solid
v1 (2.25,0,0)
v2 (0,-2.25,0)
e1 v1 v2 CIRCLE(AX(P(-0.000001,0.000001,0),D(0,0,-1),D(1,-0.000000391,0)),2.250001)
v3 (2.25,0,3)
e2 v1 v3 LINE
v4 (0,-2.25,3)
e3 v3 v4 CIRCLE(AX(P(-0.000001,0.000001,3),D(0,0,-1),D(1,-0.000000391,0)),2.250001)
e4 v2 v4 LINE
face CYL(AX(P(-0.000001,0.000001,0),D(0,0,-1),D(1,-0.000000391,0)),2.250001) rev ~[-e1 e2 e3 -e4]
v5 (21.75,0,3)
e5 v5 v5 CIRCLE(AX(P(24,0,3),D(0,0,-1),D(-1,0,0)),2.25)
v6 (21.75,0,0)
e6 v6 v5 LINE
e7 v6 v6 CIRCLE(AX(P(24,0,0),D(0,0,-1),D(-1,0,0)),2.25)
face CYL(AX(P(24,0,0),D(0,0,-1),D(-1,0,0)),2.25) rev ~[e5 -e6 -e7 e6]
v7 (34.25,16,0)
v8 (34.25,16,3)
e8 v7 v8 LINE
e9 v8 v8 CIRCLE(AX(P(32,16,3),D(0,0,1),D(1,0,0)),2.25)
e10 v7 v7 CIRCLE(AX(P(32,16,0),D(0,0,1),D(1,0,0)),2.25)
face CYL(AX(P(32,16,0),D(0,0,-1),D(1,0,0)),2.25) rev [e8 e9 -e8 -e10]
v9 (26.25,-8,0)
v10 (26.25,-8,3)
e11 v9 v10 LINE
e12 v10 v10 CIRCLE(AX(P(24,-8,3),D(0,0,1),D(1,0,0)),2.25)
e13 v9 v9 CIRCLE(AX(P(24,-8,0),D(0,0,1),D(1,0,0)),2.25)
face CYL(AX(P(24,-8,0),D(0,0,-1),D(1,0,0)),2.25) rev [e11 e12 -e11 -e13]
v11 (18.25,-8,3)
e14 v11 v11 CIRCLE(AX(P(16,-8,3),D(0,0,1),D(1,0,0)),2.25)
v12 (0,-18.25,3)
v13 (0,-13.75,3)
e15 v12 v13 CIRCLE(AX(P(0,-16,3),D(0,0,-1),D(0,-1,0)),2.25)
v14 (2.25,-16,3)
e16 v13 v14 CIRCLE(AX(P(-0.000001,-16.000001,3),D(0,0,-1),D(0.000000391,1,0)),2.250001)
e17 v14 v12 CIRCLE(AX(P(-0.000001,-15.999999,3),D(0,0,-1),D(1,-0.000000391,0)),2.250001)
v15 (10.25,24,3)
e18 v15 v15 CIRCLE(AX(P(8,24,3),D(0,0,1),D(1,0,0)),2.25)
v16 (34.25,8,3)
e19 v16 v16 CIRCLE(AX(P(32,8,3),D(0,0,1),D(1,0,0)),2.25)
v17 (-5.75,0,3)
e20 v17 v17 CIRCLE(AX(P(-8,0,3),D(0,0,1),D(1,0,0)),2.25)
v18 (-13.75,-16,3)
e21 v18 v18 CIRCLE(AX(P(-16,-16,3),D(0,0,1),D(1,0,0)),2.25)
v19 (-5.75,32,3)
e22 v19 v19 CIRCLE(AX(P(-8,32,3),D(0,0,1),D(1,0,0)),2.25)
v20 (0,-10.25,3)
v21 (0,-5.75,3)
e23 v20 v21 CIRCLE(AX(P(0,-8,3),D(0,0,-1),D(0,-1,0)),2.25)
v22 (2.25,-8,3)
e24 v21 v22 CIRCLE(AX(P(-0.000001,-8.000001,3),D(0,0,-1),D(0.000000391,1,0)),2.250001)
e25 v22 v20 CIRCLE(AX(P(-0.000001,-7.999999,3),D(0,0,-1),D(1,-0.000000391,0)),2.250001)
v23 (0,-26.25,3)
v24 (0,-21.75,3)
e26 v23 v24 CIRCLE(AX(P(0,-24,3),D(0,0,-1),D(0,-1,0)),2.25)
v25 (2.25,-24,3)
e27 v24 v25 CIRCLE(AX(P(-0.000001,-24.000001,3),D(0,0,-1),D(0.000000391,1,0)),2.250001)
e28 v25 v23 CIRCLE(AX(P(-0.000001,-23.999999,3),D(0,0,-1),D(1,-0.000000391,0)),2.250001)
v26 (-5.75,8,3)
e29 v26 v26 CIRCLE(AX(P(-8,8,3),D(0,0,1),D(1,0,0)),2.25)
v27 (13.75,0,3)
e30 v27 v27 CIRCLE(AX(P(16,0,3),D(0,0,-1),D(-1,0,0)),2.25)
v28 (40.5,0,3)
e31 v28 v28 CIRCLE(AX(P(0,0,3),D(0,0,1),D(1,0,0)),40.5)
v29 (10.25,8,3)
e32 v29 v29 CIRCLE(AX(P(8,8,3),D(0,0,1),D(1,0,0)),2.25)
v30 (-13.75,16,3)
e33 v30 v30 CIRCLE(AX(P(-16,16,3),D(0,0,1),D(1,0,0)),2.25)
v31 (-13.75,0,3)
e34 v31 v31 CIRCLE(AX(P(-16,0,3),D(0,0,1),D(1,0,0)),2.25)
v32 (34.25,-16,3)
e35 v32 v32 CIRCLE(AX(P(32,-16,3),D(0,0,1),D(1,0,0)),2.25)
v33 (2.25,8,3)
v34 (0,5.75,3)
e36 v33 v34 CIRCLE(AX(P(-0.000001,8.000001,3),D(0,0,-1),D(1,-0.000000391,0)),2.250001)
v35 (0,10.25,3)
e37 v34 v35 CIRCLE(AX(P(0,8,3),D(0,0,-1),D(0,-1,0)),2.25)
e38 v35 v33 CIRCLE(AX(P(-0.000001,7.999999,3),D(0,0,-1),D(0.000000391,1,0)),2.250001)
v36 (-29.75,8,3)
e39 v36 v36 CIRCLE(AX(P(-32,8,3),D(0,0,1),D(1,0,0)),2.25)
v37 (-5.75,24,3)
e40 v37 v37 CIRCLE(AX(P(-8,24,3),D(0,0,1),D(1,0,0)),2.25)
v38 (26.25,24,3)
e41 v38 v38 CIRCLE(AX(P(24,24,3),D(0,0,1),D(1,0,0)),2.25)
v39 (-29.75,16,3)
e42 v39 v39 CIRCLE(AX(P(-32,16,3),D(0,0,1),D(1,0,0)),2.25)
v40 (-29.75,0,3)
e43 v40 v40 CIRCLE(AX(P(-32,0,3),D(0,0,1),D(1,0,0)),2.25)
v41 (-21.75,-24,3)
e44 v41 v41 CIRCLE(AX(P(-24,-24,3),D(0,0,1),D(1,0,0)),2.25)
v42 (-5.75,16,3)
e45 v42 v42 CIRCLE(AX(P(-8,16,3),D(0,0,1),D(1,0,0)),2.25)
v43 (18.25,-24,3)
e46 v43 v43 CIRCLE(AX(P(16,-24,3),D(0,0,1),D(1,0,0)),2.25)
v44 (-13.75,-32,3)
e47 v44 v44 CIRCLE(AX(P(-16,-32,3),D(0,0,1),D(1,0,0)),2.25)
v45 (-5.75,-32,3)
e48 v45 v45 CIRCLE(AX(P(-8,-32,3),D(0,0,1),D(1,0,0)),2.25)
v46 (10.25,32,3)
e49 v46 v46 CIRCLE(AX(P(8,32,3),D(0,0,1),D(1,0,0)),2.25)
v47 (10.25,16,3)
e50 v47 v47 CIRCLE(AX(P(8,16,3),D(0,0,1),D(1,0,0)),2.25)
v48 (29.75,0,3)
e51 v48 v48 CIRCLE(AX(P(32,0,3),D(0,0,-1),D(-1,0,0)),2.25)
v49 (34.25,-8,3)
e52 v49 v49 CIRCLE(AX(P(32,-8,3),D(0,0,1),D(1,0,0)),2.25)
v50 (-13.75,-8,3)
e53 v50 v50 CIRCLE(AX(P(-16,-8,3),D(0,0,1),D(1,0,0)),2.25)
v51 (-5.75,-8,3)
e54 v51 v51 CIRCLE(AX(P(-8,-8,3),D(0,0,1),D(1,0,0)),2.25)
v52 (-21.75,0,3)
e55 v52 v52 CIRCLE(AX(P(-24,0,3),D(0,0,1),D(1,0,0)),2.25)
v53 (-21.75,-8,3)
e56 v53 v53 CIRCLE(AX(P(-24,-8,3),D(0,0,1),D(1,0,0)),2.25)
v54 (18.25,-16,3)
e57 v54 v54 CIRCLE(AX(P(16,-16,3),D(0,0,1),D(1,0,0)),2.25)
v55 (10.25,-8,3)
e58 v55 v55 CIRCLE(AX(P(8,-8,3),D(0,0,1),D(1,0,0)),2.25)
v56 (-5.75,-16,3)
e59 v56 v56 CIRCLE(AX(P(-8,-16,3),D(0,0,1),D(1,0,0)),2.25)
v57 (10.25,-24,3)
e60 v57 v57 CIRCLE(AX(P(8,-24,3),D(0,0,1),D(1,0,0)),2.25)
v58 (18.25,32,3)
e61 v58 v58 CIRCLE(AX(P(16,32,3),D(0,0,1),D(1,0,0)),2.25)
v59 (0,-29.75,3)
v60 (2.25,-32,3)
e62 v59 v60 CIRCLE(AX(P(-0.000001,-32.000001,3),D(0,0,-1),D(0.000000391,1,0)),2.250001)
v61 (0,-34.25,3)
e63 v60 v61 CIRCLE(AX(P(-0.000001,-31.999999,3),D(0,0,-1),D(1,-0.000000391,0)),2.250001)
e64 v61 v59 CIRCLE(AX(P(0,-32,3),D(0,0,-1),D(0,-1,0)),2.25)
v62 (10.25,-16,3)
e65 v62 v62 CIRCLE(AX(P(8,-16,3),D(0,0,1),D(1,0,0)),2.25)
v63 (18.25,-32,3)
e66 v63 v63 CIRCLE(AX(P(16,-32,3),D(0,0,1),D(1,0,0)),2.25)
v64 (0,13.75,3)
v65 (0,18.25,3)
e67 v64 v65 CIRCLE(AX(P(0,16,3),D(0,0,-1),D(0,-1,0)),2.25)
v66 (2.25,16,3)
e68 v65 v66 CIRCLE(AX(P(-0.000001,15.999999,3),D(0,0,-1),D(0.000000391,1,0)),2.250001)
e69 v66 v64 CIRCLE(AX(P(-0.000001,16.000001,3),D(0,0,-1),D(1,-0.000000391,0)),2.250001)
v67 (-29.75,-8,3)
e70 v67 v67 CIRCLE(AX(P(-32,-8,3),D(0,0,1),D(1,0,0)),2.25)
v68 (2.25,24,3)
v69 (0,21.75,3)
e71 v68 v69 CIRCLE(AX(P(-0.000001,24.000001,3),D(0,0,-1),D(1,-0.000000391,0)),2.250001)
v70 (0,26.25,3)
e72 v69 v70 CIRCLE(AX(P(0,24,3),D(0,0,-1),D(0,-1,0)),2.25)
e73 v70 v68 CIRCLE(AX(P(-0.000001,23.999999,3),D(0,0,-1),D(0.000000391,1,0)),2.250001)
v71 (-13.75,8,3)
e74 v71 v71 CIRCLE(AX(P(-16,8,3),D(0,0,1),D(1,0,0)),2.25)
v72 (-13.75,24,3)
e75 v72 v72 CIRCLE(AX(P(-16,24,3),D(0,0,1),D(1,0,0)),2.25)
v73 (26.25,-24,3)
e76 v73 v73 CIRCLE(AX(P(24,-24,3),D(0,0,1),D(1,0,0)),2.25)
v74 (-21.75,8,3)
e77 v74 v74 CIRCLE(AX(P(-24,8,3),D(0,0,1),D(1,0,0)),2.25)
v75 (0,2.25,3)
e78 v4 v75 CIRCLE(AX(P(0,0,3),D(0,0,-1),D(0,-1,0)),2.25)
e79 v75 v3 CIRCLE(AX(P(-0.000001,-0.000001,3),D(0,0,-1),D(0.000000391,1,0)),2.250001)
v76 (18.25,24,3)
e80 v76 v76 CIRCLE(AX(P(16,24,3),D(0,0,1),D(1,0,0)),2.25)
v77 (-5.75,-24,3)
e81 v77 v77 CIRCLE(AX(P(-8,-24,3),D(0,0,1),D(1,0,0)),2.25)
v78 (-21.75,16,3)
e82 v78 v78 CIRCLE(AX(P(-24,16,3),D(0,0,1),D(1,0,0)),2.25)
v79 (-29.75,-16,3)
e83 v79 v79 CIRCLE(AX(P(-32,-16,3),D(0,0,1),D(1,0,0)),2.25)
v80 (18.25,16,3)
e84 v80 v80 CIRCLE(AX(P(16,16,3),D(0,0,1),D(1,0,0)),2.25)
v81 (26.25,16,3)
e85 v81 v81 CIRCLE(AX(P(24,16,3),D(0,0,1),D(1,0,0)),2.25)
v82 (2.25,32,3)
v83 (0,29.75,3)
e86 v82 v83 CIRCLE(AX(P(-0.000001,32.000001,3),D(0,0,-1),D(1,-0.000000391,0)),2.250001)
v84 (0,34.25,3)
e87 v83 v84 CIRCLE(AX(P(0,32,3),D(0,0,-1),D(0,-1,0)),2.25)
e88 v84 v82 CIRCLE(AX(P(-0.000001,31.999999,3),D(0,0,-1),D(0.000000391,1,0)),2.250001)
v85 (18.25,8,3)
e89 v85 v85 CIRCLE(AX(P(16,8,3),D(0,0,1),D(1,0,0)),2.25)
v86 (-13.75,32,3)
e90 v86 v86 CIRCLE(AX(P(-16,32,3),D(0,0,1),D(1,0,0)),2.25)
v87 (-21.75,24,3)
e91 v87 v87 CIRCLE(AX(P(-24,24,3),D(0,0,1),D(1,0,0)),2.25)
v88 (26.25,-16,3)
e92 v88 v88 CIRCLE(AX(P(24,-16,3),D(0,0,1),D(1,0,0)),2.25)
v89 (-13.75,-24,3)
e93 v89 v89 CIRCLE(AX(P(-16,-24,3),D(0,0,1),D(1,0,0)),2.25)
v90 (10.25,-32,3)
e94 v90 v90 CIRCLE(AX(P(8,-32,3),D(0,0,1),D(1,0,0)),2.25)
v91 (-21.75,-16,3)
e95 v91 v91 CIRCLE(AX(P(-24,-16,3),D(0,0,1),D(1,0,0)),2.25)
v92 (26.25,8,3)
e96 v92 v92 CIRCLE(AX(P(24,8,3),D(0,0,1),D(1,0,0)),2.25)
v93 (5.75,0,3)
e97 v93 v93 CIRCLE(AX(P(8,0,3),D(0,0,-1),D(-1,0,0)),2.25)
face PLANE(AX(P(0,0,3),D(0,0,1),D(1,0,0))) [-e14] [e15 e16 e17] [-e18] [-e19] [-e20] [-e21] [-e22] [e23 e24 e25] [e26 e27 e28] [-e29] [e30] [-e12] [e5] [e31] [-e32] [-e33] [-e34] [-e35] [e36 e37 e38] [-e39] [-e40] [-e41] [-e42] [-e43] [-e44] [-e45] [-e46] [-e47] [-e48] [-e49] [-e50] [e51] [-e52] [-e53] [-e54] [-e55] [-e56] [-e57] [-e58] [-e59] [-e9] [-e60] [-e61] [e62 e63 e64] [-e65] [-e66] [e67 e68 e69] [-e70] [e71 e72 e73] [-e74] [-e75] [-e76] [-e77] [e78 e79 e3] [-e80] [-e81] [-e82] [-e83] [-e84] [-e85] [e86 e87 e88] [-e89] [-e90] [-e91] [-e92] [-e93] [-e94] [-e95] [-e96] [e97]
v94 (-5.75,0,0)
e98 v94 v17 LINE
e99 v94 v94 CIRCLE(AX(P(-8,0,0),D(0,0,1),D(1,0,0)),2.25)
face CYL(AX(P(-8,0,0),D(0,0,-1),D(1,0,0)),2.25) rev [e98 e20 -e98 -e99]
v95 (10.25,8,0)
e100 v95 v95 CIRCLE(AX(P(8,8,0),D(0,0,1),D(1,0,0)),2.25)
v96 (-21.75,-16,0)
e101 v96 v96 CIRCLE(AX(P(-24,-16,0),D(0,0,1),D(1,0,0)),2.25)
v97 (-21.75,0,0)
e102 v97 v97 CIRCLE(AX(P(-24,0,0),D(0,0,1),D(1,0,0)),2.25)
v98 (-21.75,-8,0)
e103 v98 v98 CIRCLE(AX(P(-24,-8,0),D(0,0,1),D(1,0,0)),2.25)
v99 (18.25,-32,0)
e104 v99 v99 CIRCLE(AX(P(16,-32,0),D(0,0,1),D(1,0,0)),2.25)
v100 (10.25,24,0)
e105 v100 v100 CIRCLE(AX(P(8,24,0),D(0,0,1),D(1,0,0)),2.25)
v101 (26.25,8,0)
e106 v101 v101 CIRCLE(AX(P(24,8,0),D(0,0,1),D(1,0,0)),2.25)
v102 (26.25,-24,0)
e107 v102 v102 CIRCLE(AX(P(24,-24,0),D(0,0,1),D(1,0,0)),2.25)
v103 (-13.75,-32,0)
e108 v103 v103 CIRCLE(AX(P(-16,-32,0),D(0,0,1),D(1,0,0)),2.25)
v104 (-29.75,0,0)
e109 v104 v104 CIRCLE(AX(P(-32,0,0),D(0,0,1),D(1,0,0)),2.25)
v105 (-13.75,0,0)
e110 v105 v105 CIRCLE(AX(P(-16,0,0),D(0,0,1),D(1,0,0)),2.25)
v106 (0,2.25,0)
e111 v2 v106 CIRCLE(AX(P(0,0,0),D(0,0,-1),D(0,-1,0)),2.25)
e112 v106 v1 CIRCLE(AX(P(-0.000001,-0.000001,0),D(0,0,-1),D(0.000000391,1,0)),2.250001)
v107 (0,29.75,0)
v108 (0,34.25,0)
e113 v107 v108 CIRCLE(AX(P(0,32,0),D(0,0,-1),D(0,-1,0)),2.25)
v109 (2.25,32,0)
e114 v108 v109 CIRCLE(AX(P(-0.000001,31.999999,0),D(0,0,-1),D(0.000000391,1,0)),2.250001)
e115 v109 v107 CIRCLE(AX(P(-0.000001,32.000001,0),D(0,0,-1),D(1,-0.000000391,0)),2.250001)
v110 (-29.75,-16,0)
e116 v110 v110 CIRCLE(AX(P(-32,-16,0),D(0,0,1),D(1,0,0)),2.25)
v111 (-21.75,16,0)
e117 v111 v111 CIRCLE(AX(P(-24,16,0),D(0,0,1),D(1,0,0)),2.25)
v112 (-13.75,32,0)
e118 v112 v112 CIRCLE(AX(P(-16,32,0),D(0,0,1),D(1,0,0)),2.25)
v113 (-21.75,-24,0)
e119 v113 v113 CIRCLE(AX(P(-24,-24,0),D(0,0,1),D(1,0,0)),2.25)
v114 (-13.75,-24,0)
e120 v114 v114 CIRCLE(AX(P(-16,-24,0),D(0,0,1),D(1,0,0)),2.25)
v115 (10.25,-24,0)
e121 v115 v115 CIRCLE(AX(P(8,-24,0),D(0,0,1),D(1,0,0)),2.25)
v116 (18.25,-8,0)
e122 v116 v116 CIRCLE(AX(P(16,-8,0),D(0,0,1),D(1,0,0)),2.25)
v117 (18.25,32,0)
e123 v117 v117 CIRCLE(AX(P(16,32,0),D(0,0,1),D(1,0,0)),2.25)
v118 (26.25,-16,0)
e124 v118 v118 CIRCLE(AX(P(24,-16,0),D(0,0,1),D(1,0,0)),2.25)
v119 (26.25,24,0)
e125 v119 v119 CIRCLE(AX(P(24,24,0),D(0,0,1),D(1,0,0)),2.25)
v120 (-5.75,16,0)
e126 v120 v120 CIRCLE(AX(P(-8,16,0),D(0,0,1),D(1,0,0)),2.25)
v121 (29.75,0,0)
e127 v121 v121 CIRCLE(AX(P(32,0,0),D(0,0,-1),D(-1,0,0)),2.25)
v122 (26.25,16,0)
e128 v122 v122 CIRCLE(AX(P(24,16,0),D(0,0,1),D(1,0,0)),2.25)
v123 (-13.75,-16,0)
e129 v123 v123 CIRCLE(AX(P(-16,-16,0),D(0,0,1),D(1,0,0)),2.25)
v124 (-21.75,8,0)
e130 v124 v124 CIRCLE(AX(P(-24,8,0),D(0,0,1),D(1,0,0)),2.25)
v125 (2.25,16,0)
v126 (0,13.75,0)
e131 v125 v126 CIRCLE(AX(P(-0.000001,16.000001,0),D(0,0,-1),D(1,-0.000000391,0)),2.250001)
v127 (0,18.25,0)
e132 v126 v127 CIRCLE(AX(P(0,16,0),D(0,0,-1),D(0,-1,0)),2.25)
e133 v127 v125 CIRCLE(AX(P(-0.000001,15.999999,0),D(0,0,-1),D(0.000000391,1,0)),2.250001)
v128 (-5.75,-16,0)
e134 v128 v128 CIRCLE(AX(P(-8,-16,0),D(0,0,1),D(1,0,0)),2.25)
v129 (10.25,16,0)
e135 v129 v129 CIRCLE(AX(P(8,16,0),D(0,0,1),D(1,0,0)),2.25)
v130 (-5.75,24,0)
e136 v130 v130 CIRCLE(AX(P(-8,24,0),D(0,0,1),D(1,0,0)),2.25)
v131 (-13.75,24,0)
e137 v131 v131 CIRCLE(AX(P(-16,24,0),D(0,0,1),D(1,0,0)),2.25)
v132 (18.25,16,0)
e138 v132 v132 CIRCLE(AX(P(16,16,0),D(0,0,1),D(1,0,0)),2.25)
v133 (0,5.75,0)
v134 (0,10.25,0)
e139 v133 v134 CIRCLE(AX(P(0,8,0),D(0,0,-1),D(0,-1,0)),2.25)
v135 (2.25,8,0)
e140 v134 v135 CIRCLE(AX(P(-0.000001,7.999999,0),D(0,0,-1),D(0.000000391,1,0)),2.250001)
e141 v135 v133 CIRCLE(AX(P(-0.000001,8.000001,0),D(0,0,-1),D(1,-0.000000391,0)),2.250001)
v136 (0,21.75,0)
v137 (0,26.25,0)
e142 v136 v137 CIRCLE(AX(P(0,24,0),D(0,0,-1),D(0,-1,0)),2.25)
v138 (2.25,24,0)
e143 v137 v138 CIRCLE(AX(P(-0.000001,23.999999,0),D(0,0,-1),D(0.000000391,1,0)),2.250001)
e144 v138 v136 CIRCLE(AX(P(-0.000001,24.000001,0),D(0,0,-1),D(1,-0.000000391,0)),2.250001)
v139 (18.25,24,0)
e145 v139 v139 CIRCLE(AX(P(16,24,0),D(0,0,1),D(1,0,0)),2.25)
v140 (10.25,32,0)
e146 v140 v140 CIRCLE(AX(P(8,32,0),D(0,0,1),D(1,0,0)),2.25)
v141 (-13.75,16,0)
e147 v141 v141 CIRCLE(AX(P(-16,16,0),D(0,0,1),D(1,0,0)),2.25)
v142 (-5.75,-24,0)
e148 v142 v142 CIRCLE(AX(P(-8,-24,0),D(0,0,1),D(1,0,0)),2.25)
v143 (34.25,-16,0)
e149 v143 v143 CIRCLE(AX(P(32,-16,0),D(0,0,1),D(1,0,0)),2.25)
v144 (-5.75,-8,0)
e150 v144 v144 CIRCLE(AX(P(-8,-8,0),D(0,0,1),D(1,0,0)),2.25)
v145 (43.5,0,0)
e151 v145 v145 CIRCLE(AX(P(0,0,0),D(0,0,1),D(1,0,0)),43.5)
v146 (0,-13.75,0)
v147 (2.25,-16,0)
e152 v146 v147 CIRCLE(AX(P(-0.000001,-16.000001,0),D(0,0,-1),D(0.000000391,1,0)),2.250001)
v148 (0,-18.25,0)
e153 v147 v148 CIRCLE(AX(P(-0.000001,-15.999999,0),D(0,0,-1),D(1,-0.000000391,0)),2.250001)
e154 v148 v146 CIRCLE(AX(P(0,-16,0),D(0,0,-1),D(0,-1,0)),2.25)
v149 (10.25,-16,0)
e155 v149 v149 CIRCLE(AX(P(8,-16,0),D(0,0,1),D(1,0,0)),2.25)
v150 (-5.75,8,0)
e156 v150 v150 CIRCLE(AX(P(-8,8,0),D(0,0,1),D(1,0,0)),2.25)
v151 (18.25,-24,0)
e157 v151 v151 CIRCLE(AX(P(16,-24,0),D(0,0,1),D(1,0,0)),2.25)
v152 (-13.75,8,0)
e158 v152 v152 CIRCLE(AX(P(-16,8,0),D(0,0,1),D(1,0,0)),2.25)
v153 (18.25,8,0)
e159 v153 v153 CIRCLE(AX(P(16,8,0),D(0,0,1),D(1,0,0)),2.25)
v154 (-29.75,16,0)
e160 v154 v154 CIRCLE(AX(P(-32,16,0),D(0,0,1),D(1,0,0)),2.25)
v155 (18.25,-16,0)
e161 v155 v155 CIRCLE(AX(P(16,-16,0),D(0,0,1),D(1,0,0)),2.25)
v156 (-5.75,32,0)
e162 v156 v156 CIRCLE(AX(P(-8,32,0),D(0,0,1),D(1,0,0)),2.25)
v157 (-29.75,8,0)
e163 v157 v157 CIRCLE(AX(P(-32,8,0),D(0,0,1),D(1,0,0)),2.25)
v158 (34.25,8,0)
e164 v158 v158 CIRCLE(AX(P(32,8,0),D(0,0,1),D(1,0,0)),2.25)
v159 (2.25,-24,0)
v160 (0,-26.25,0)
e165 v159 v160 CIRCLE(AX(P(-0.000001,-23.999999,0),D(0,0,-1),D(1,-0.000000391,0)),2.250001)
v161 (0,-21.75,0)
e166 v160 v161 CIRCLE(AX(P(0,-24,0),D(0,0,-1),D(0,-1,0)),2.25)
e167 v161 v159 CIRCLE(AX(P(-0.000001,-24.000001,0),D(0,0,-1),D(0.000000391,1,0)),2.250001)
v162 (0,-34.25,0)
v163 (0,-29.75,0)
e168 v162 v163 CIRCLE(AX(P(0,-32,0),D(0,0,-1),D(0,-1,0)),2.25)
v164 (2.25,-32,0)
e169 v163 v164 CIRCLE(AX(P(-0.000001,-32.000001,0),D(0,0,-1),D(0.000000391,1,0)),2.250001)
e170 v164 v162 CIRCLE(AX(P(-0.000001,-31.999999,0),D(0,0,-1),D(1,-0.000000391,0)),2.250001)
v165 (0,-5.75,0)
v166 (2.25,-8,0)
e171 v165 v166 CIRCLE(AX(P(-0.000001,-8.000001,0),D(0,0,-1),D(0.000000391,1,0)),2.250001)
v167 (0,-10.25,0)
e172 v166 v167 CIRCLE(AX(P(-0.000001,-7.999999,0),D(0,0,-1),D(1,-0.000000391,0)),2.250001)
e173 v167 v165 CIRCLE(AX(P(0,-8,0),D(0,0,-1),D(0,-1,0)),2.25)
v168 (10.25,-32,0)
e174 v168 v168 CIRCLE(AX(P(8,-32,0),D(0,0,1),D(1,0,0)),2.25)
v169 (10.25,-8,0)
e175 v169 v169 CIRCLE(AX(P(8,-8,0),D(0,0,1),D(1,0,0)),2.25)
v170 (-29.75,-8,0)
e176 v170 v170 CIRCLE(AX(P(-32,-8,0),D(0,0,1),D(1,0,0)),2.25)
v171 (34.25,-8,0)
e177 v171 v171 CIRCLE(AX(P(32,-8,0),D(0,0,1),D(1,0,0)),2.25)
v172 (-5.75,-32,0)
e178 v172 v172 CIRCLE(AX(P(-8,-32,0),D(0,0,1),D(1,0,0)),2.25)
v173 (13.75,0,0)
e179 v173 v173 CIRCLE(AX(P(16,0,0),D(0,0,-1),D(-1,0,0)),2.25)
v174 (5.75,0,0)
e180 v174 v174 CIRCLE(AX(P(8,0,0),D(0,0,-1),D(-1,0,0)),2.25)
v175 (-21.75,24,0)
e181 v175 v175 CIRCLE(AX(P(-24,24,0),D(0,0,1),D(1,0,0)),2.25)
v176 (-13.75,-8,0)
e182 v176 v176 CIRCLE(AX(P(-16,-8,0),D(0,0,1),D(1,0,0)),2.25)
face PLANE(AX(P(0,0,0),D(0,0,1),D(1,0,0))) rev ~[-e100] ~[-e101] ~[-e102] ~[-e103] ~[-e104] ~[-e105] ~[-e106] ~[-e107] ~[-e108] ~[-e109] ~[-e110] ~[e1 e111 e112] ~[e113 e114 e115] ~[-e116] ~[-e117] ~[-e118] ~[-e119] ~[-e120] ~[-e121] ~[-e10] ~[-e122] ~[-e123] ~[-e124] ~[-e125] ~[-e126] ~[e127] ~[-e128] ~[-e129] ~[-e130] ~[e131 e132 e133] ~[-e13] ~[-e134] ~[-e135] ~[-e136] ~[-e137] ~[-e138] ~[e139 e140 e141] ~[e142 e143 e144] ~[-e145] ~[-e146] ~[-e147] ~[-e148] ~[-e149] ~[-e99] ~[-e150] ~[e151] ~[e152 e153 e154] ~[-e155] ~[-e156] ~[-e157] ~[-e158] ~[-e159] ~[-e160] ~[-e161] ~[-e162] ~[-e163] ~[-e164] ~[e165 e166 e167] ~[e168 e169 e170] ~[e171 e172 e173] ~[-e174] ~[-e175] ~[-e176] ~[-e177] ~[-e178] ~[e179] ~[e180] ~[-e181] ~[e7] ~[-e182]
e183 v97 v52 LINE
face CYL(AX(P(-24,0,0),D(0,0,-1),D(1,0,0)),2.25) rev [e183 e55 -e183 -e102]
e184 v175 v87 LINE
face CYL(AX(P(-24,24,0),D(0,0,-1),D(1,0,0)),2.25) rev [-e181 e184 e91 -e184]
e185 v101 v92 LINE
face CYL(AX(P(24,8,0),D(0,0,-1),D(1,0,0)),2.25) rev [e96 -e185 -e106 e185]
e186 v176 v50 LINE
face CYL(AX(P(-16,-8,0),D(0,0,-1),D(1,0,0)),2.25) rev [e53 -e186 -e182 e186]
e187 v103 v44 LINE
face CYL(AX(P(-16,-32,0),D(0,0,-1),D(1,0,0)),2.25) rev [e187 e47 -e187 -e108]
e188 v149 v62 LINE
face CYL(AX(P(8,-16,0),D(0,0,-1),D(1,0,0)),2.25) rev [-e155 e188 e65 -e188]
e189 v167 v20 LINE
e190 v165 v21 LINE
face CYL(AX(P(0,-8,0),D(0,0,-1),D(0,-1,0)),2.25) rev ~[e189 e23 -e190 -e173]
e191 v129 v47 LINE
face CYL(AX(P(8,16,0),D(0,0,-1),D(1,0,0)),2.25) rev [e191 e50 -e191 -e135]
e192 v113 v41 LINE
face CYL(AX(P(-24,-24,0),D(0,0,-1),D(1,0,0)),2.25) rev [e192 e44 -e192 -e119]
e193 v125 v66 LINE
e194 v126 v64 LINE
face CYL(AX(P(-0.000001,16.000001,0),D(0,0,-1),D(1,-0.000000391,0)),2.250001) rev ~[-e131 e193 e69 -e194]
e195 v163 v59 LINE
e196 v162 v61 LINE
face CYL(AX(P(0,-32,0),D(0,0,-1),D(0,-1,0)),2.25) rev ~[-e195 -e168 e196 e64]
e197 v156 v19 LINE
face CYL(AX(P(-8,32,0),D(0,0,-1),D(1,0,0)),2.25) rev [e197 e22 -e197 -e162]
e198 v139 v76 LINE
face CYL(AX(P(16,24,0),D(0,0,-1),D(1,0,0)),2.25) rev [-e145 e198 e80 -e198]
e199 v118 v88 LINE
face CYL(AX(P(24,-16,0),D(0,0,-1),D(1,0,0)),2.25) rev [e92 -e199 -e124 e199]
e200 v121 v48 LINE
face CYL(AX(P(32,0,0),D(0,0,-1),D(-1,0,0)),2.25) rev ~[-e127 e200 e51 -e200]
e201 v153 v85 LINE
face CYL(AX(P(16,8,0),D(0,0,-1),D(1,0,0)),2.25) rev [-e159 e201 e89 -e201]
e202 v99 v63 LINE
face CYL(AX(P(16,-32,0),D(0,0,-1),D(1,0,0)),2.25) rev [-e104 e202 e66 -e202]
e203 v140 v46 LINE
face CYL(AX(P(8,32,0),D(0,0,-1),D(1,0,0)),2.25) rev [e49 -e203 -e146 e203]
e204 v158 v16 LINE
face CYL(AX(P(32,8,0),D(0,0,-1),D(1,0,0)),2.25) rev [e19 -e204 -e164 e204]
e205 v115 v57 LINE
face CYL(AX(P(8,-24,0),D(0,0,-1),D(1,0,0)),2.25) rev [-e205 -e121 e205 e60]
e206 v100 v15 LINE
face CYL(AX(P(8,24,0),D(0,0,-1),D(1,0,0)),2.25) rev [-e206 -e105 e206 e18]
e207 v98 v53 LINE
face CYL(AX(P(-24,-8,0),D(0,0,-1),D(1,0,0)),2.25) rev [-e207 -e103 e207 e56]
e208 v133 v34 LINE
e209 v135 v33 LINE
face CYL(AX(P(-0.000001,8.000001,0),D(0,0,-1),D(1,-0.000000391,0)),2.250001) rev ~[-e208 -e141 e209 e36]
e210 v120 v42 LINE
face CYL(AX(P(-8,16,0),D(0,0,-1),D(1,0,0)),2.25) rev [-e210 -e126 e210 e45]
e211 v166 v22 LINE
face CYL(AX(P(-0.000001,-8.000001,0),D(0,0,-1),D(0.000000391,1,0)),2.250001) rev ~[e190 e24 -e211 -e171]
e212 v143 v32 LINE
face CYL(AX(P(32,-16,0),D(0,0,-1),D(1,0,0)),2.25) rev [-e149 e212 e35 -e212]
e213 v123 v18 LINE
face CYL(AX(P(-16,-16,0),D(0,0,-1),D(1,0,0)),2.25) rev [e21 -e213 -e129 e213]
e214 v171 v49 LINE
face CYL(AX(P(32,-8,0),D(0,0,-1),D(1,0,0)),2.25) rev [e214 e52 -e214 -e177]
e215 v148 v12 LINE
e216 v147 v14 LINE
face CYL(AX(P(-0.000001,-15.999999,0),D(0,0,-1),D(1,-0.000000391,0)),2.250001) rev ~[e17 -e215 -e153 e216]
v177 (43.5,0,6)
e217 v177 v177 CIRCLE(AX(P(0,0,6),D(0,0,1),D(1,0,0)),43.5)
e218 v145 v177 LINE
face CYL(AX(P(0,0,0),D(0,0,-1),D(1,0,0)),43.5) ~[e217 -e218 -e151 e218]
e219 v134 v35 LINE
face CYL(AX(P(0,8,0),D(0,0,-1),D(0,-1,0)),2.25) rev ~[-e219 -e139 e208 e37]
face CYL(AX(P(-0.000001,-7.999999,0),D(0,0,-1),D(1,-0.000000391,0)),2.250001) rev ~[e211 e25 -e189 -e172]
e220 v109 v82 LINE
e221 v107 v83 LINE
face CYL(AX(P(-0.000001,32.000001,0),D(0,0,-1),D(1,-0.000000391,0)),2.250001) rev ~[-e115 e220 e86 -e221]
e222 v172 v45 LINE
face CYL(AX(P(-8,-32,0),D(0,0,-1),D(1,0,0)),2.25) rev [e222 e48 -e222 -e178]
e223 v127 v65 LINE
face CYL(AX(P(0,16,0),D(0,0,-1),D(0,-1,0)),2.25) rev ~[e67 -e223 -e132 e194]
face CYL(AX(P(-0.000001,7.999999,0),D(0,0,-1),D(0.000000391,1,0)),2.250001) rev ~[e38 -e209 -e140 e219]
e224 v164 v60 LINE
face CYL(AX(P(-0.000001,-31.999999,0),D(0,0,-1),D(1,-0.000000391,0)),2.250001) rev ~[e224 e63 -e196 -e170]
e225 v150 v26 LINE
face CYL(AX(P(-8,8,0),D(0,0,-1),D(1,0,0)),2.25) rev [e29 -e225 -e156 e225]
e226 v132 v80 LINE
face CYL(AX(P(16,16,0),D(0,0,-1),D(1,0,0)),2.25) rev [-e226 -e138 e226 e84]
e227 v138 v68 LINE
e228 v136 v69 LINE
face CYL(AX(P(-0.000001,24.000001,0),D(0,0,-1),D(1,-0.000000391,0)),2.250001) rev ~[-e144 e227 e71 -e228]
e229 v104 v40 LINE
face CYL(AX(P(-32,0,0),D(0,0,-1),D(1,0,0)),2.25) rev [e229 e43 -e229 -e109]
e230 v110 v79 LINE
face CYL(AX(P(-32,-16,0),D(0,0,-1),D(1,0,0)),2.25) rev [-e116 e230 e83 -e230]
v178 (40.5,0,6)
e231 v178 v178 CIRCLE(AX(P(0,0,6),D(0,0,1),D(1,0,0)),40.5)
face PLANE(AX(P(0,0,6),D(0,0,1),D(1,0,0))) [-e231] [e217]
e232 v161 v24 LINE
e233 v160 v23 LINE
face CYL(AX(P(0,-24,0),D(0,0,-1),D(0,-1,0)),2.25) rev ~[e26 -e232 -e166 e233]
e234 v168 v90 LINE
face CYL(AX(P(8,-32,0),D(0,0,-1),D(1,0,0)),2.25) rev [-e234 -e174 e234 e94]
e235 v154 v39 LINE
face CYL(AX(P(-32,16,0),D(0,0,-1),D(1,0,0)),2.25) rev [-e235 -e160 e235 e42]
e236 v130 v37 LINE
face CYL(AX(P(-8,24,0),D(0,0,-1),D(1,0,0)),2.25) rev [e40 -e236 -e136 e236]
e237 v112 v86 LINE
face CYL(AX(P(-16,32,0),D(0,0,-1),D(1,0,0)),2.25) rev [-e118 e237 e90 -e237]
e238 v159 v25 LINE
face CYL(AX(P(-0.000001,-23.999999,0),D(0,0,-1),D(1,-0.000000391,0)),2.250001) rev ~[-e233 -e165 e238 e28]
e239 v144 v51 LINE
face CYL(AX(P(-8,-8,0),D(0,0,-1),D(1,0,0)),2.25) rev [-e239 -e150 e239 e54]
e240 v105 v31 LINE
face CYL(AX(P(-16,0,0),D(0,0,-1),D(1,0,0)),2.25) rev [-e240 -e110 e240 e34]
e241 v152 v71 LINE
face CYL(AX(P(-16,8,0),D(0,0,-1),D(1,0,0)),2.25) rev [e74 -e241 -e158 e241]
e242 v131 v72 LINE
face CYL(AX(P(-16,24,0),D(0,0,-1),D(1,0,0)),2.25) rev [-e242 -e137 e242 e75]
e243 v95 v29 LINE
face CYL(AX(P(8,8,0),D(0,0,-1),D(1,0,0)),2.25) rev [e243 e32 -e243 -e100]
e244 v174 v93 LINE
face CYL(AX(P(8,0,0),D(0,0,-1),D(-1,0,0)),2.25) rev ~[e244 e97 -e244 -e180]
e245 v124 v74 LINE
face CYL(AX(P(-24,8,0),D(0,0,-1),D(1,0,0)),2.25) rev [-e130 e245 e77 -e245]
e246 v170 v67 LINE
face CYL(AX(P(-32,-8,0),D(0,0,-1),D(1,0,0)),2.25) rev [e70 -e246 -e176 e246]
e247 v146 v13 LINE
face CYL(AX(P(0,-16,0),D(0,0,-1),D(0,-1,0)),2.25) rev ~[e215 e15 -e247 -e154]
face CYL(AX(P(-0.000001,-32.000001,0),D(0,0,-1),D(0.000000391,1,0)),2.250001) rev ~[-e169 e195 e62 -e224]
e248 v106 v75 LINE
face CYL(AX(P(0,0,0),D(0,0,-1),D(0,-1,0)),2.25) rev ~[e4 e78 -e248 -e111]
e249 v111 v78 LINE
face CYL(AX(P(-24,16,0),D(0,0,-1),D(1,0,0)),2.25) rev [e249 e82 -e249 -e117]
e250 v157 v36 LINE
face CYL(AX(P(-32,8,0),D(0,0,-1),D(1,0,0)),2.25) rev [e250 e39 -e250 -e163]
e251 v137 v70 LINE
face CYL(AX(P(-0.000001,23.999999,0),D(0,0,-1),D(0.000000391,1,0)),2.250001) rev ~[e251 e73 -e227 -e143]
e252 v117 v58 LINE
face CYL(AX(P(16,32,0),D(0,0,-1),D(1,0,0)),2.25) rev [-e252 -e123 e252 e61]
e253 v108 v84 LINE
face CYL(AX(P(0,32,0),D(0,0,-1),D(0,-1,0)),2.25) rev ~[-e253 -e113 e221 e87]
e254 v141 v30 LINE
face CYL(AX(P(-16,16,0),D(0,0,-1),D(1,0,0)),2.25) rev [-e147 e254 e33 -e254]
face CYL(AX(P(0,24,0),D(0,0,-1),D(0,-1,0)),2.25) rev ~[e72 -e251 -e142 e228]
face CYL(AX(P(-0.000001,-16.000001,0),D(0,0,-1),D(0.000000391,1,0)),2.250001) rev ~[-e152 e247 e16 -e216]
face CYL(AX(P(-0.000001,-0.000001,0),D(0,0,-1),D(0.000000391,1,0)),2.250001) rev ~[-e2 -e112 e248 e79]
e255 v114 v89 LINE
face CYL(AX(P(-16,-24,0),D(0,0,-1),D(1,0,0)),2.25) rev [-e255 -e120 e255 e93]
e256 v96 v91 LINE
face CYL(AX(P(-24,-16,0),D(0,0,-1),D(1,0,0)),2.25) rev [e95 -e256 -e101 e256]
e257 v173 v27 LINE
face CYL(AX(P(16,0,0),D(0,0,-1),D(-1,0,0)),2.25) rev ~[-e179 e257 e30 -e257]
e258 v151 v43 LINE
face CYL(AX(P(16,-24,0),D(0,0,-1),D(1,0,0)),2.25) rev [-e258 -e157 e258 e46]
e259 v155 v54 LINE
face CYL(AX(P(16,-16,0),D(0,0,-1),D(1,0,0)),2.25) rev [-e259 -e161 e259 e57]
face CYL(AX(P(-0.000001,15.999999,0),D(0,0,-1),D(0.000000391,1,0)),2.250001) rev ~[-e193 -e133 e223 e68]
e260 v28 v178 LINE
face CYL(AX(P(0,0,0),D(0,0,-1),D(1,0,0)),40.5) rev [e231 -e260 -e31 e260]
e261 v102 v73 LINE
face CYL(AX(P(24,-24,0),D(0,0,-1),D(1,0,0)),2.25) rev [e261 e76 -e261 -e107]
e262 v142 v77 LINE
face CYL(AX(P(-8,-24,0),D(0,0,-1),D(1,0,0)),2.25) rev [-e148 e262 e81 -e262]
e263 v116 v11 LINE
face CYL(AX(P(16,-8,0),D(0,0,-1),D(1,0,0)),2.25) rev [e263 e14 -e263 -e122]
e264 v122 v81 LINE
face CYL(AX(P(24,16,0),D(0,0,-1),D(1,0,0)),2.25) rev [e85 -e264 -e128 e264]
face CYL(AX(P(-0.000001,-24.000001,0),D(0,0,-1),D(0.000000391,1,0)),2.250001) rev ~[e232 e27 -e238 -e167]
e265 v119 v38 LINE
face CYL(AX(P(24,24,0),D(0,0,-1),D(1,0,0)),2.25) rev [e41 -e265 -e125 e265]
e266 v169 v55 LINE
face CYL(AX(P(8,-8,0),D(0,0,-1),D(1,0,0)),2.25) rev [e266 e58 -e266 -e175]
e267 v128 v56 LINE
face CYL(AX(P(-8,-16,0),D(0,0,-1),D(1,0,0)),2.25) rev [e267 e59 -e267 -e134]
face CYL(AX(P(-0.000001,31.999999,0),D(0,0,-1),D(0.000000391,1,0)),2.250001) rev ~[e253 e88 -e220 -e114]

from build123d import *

# Parameters (mm, degrees)
F0_R     = 40.5
F0_R_2   = 2.25
F1_DEPTH = 3
F0_R_3   = 43.5
F2_DEPTH = 6


with BuildPart() as f1:
    # F0 (on Top) → F1 (new body)
    with BuildSketch(Plane.XY):
        Circle(F0_R)
        with Locations((-24, -24)):
            Circle(F0_R_2, mode=Mode.SUBTRACT)
        with Locations((-16, -32)):
            Circle(F0_R_2, mode=Mode.SUBTRACT)
        with Locations((-16, -24)):
            Circle(F0_R_2, mode=Mode.SUBTRACT)
        with Locations((-8, -32)):
            Circle(F0_R_2, mode=Mode.SUBTRACT)
        with Locations((-8, -24)):
            Circle(F0_R_2, mode=Mode.SUBTRACT)
        with Locations((-32, -16)):
            Circle(F0_R_2, mode=Mode.SUBTRACT)
        with Locations((-24, -16)):
            Circle(F0_R_2, mode=Mode.SUBTRACT)
        with Locations((-32, -8)):
            Circle(F0_R_2, mode=Mode.SUBTRACT)
        with Locations((-24, -8)):
            Circle(F0_R_2, mode=Mode.SUBTRACT)
        with Locations((-16, -16)):
            Circle(F0_R_2, mode=Mode.SUBTRACT)
        with Locations((-8, -16)):
            Circle(F0_R_2, mode=Mode.SUBTRACT)
        with Locations((-16, -8)):
            Circle(F0_R_2, mode=Mode.SUBTRACT)
        with Locations((-8, -8)):
            Circle(F0_R_2, mode=Mode.SUBTRACT)
        with BuildLine():
            ThreePointArc((0, -34.25), (-2.25, -32), (0, -29.75))
            ThreePointArc((0, -29.75), (1.59099, -30.40901), (2.25, -32))
            ThreePointArc((2.25, -32), (1.59099, -33.59099), (0, -34.25))
        make_face(mode=Mode.SUBTRACT)
        with Locations((8, -32)):
            Circle(F0_R_2, mode=Mode.SUBTRACT)
        with BuildLine():
            ThreePointArc((0, -26.25), (-2.25, -24), (0, -21.75))
            ThreePointArc((0, -21.75), (1.59099, -22.40901), (2.25, -24))
            ThreePointArc((2.25, -24), (1.59099, -25.59099), (0, -26.25))
        make_face(mode=Mode.SUBTRACT)
        with Locations((8, -24)):
            Circle(F0_R_2, mode=Mode.SUBTRACT)
        with Locations((16, -32)):
            Circle(F0_R_2, mode=Mode.SUBTRACT)
        with Locations((16, -24)):
            Circle(F0_R_2, mode=Mode.SUBTRACT)
        with Locations((24, -24)):
            Circle(F0_R_2, mode=Mode.SUBTRACT)
        with BuildLine():
            ThreePointArc((0, -18.25), (-2.25, -16), (0, -13.75))
            ThreePointArc((0, -13.75), (1.59099, -14.40901), (2.25, -16))
            ThreePointArc((2.25, -16), (1.59099, -17.59099), (0, -18.25))
        make_face(mode=Mode.SUBTRACT)
        with Locations((8, -16)):
            Circle(F0_R_2, mode=Mode.SUBTRACT)
        with Locations((16, -16)):
            Circle(F0_R_2, mode=Mode.SUBTRACT)
        with BuildLine():
            ThreePointArc((0, -10.25), (-2.25, -8), (0, -5.75))
            ThreePointArc((0, -5.75), (1.59099, -6.40901), (2.25, -8))
            ThreePointArc((2.25, -8), (1.59099, -9.59099), (0, -10.25))
        make_face(mode=Mode.SUBTRACT)
        with Locations((8, -8)):
            Circle(F0_R_2, mode=Mode.SUBTRACT)
        with Locations((16, -8)):
            Circle(F0_R_2, mode=Mode.SUBTRACT)
        with Locations((24, -16)):
            Circle(F0_R_2, mode=Mode.SUBTRACT)
        with Locations((32, -16)):
            Circle(F0_R_2, mode=Mode.SUBTRACT)
        with Locations((24, -8)):
            Circle(F0_R_2, mode=Mode.SUBTRACT)
        with Locations((32, -8)):
            Circle(F0_R_2, mode=Mode.SUBTRACT)
        with Locations((-32, 0)):
            Circle(F0_R_2, mode=Mode.SUBTRACT)
        with Locations((-24, 0)):
            Circle(F0_R_2, mode=Mode.SUBTRACT)
        with Locations((-32, 8)):
            Circle(F0_R_2, mode=Mode.SUBTRACT)
        with Locations((-24, 8)):
            Circle(F0_R_2, mode=Mode.SUBTRACT)
        with Locations((-32, 16)):
            Circle(F0_R_2, mode=Mode.SUBTRACT)
        with Locations((-24, 16)):
            Circle(F0_R_2, mode=Mode.SUBTRACT)
        with Locations((-16, 0)):
            Circle(F0_R_2, mode=Mode.SUBTRACT)
        with Locations((-16, 8)):
            Circle(F0_R_2, mode=Mode.SUBTRACT)
        with Locations((-8, 0)):
            Circle(F0_R_2, mode=Mode.SUBTRACT)
        with Locations((-8, 8)):
            Circle(F0_R_2, mode=Mode.SUBTRACT)
        with Locations((-16, 16)):
            Circle(F0_R_2, mode=Mode.SUBTRACT)
        with Locations((-8, 16)):
            Circle(F0_R_2, mode=Mode.SUBTRACT)
        with Locations((-24, 24)):
            Circle(F0_R_2, mode=Mode.SUBTRACT)
        with Locations((-16, 24)):
            Circle(F0_R_2, mode=Mode.SUBTRACT)
        with Locations((-16, 32)):
            Circle(F0_R_2, mode=Mode.SUBTRACT)
        with Locations((-8, 24)):
            Circle(F0_R_2, mode=Mode.SUBTRACT)
        with Locations((-8, 32)):
            Circle(F0_R_2, mode=Mode.SUBTRACT)
        with BuildLine():
            ThreePointArc((0, 2.25), (1.59099, 1.59099), (2.25, 0))
            ThreePointArc((2.25, 0), (1.59099, -1.59099), (0, -2.25))
            ThreePointArc((0, -2.25), (-2.25, 0), (0, 2.25))
        make_face(mode=Mode.SUBTRACT)
        with BuildLine():
            ThreePointArc((10.25, 0), (8, -2.25), (5.75, 0))
            ThreePointArc((5.75, 0), (8, 2.25), (10.25, 0))
        make_face(mode=Mode.SUBTRACT)
        with BuildLine():
            ThreePointArc((2.25, 8), (1.59099, 6.40901), (0, 5.75))
            ThreePointArc((0, 5.75), (-2.25, 8), (0, 10.25))
            ThreePointArc((0, 10.25), (1.59099, 9.59099), (2.25, 8))
        make_face(mode=Mode.SUBTRACT)
        with Locations((8, 8)):
            Circle(F0_R_2, mode=Mode.SUBTRACT)
        with BuildLine():
            ThreePointArc((18.25, 0), (16, -2.25), (13.75, 0))
            ThreePointArc((13.75, 0), (16, 2.25), (18.25, 0))
        make_face(mode=Mode.SUBTRACT)
        with Locations((16, 8)):
            Circle(F0_R_2, mode=Mode.SUBTRACT)
        with BuildLine():
            ThreePointArc((2.25, 16), (1.59099, 14.40901), (0, 13.75))
            ThreePointArc((0, 13.75), (-2.25, 16), (0, 18.25))
            ThreePointArc((0, 18.25), (1.59099, 17.59099), (2.25, 16))
        make_face(mode=Mode.SUBTRACT)
        with Locations((8, 16)):
            Circle(F0_R_2, mode=Mode.SUBTRACT)
        with Locations((16, 16)):
            Circle(F0_R_2, mode=Mode.SUBTRACT)
        with BuildLine():
            ThreePointArc((26.25, 0), (24, -2.25), (21.75, 0))
            ThreePointArc((21.75, 0), (24, 2.25), (26.25, 0))
        make_face(mode=Mode.SUBTRACT)
        with BuildLine():
            ThreePointArc((34.25, 0), (32, -2.25), (29.75, 0))
            ThreePointArc((29.75, 0), (32, 2.25), (34.25, 0))
        make_face(mode=Mode.SUBTRACT)
        with Locations((24, 8)):
            Circle(F0_R_2, mode=Mode.SUBTRACT)
        with Locations((32, 8)):
            Circle(F0_R_2, mode=Mode.SUBTRACT)
        with Locations((24, 16)):
            Circle(F0_R_2, mode=Mode.SUBTRACT)
        with Locations((32, 16)):
            Circle(F0_R_2, mode=Mode.SUBTRACT)
        with BuildLine():
            ThreePointArc((2.25, 24), (1.59099, 22.40901), (0, 21.75))
            ThreePointArc((0, 21.75), (-2.25, 24), (0, 26.25))
            ThreePointArc((0, 26.25), (1.59099, 25.59099), (2.25, 24))
        make_face(mode=Mode.SUBTRACT)
        with Locations((8, 24)):
            Circle(F0_R_2, mode=Mode.SUBTRACT)
        with BuildLine():
            ThreePointArc((2.25, 32), (1.59099, 30.40901), (0, 29.75))
            ThreePointArc((0, 29.75), (-2.25, 32), (0, 34.25))
            ThreePointArc((0, 34.25), (1.59099, 33.59099), (2.25, 32))
        make_face(mode=Mode.SUBTRACT)
        with Locations((8, 32)):
            Circle(F0_R_2, mode=Mode.SUBTRACT)
        with Locations((16, 24)):
            Circle(F0_R_2, mode=Mode.SUBTRACT)
        with Locations((16, 32)):
            Circle(F0_R_2, mode=Mode.SUBTRACT)
        with Locations((24, 24)):
            Circle(F0_R_2, mode=Mode.SUBTRACT)
    extrude(amount=F1_DEPTH)

    # F0 (on Top) → F2 (join)
    with BuildSketch(Plane.XY):
        Circle(F0_R_3)
        Circle(F0_R, mode=Mode.SUBTRACT)
    extrude(amount=F2_DEPTH)


solid = f1.part
